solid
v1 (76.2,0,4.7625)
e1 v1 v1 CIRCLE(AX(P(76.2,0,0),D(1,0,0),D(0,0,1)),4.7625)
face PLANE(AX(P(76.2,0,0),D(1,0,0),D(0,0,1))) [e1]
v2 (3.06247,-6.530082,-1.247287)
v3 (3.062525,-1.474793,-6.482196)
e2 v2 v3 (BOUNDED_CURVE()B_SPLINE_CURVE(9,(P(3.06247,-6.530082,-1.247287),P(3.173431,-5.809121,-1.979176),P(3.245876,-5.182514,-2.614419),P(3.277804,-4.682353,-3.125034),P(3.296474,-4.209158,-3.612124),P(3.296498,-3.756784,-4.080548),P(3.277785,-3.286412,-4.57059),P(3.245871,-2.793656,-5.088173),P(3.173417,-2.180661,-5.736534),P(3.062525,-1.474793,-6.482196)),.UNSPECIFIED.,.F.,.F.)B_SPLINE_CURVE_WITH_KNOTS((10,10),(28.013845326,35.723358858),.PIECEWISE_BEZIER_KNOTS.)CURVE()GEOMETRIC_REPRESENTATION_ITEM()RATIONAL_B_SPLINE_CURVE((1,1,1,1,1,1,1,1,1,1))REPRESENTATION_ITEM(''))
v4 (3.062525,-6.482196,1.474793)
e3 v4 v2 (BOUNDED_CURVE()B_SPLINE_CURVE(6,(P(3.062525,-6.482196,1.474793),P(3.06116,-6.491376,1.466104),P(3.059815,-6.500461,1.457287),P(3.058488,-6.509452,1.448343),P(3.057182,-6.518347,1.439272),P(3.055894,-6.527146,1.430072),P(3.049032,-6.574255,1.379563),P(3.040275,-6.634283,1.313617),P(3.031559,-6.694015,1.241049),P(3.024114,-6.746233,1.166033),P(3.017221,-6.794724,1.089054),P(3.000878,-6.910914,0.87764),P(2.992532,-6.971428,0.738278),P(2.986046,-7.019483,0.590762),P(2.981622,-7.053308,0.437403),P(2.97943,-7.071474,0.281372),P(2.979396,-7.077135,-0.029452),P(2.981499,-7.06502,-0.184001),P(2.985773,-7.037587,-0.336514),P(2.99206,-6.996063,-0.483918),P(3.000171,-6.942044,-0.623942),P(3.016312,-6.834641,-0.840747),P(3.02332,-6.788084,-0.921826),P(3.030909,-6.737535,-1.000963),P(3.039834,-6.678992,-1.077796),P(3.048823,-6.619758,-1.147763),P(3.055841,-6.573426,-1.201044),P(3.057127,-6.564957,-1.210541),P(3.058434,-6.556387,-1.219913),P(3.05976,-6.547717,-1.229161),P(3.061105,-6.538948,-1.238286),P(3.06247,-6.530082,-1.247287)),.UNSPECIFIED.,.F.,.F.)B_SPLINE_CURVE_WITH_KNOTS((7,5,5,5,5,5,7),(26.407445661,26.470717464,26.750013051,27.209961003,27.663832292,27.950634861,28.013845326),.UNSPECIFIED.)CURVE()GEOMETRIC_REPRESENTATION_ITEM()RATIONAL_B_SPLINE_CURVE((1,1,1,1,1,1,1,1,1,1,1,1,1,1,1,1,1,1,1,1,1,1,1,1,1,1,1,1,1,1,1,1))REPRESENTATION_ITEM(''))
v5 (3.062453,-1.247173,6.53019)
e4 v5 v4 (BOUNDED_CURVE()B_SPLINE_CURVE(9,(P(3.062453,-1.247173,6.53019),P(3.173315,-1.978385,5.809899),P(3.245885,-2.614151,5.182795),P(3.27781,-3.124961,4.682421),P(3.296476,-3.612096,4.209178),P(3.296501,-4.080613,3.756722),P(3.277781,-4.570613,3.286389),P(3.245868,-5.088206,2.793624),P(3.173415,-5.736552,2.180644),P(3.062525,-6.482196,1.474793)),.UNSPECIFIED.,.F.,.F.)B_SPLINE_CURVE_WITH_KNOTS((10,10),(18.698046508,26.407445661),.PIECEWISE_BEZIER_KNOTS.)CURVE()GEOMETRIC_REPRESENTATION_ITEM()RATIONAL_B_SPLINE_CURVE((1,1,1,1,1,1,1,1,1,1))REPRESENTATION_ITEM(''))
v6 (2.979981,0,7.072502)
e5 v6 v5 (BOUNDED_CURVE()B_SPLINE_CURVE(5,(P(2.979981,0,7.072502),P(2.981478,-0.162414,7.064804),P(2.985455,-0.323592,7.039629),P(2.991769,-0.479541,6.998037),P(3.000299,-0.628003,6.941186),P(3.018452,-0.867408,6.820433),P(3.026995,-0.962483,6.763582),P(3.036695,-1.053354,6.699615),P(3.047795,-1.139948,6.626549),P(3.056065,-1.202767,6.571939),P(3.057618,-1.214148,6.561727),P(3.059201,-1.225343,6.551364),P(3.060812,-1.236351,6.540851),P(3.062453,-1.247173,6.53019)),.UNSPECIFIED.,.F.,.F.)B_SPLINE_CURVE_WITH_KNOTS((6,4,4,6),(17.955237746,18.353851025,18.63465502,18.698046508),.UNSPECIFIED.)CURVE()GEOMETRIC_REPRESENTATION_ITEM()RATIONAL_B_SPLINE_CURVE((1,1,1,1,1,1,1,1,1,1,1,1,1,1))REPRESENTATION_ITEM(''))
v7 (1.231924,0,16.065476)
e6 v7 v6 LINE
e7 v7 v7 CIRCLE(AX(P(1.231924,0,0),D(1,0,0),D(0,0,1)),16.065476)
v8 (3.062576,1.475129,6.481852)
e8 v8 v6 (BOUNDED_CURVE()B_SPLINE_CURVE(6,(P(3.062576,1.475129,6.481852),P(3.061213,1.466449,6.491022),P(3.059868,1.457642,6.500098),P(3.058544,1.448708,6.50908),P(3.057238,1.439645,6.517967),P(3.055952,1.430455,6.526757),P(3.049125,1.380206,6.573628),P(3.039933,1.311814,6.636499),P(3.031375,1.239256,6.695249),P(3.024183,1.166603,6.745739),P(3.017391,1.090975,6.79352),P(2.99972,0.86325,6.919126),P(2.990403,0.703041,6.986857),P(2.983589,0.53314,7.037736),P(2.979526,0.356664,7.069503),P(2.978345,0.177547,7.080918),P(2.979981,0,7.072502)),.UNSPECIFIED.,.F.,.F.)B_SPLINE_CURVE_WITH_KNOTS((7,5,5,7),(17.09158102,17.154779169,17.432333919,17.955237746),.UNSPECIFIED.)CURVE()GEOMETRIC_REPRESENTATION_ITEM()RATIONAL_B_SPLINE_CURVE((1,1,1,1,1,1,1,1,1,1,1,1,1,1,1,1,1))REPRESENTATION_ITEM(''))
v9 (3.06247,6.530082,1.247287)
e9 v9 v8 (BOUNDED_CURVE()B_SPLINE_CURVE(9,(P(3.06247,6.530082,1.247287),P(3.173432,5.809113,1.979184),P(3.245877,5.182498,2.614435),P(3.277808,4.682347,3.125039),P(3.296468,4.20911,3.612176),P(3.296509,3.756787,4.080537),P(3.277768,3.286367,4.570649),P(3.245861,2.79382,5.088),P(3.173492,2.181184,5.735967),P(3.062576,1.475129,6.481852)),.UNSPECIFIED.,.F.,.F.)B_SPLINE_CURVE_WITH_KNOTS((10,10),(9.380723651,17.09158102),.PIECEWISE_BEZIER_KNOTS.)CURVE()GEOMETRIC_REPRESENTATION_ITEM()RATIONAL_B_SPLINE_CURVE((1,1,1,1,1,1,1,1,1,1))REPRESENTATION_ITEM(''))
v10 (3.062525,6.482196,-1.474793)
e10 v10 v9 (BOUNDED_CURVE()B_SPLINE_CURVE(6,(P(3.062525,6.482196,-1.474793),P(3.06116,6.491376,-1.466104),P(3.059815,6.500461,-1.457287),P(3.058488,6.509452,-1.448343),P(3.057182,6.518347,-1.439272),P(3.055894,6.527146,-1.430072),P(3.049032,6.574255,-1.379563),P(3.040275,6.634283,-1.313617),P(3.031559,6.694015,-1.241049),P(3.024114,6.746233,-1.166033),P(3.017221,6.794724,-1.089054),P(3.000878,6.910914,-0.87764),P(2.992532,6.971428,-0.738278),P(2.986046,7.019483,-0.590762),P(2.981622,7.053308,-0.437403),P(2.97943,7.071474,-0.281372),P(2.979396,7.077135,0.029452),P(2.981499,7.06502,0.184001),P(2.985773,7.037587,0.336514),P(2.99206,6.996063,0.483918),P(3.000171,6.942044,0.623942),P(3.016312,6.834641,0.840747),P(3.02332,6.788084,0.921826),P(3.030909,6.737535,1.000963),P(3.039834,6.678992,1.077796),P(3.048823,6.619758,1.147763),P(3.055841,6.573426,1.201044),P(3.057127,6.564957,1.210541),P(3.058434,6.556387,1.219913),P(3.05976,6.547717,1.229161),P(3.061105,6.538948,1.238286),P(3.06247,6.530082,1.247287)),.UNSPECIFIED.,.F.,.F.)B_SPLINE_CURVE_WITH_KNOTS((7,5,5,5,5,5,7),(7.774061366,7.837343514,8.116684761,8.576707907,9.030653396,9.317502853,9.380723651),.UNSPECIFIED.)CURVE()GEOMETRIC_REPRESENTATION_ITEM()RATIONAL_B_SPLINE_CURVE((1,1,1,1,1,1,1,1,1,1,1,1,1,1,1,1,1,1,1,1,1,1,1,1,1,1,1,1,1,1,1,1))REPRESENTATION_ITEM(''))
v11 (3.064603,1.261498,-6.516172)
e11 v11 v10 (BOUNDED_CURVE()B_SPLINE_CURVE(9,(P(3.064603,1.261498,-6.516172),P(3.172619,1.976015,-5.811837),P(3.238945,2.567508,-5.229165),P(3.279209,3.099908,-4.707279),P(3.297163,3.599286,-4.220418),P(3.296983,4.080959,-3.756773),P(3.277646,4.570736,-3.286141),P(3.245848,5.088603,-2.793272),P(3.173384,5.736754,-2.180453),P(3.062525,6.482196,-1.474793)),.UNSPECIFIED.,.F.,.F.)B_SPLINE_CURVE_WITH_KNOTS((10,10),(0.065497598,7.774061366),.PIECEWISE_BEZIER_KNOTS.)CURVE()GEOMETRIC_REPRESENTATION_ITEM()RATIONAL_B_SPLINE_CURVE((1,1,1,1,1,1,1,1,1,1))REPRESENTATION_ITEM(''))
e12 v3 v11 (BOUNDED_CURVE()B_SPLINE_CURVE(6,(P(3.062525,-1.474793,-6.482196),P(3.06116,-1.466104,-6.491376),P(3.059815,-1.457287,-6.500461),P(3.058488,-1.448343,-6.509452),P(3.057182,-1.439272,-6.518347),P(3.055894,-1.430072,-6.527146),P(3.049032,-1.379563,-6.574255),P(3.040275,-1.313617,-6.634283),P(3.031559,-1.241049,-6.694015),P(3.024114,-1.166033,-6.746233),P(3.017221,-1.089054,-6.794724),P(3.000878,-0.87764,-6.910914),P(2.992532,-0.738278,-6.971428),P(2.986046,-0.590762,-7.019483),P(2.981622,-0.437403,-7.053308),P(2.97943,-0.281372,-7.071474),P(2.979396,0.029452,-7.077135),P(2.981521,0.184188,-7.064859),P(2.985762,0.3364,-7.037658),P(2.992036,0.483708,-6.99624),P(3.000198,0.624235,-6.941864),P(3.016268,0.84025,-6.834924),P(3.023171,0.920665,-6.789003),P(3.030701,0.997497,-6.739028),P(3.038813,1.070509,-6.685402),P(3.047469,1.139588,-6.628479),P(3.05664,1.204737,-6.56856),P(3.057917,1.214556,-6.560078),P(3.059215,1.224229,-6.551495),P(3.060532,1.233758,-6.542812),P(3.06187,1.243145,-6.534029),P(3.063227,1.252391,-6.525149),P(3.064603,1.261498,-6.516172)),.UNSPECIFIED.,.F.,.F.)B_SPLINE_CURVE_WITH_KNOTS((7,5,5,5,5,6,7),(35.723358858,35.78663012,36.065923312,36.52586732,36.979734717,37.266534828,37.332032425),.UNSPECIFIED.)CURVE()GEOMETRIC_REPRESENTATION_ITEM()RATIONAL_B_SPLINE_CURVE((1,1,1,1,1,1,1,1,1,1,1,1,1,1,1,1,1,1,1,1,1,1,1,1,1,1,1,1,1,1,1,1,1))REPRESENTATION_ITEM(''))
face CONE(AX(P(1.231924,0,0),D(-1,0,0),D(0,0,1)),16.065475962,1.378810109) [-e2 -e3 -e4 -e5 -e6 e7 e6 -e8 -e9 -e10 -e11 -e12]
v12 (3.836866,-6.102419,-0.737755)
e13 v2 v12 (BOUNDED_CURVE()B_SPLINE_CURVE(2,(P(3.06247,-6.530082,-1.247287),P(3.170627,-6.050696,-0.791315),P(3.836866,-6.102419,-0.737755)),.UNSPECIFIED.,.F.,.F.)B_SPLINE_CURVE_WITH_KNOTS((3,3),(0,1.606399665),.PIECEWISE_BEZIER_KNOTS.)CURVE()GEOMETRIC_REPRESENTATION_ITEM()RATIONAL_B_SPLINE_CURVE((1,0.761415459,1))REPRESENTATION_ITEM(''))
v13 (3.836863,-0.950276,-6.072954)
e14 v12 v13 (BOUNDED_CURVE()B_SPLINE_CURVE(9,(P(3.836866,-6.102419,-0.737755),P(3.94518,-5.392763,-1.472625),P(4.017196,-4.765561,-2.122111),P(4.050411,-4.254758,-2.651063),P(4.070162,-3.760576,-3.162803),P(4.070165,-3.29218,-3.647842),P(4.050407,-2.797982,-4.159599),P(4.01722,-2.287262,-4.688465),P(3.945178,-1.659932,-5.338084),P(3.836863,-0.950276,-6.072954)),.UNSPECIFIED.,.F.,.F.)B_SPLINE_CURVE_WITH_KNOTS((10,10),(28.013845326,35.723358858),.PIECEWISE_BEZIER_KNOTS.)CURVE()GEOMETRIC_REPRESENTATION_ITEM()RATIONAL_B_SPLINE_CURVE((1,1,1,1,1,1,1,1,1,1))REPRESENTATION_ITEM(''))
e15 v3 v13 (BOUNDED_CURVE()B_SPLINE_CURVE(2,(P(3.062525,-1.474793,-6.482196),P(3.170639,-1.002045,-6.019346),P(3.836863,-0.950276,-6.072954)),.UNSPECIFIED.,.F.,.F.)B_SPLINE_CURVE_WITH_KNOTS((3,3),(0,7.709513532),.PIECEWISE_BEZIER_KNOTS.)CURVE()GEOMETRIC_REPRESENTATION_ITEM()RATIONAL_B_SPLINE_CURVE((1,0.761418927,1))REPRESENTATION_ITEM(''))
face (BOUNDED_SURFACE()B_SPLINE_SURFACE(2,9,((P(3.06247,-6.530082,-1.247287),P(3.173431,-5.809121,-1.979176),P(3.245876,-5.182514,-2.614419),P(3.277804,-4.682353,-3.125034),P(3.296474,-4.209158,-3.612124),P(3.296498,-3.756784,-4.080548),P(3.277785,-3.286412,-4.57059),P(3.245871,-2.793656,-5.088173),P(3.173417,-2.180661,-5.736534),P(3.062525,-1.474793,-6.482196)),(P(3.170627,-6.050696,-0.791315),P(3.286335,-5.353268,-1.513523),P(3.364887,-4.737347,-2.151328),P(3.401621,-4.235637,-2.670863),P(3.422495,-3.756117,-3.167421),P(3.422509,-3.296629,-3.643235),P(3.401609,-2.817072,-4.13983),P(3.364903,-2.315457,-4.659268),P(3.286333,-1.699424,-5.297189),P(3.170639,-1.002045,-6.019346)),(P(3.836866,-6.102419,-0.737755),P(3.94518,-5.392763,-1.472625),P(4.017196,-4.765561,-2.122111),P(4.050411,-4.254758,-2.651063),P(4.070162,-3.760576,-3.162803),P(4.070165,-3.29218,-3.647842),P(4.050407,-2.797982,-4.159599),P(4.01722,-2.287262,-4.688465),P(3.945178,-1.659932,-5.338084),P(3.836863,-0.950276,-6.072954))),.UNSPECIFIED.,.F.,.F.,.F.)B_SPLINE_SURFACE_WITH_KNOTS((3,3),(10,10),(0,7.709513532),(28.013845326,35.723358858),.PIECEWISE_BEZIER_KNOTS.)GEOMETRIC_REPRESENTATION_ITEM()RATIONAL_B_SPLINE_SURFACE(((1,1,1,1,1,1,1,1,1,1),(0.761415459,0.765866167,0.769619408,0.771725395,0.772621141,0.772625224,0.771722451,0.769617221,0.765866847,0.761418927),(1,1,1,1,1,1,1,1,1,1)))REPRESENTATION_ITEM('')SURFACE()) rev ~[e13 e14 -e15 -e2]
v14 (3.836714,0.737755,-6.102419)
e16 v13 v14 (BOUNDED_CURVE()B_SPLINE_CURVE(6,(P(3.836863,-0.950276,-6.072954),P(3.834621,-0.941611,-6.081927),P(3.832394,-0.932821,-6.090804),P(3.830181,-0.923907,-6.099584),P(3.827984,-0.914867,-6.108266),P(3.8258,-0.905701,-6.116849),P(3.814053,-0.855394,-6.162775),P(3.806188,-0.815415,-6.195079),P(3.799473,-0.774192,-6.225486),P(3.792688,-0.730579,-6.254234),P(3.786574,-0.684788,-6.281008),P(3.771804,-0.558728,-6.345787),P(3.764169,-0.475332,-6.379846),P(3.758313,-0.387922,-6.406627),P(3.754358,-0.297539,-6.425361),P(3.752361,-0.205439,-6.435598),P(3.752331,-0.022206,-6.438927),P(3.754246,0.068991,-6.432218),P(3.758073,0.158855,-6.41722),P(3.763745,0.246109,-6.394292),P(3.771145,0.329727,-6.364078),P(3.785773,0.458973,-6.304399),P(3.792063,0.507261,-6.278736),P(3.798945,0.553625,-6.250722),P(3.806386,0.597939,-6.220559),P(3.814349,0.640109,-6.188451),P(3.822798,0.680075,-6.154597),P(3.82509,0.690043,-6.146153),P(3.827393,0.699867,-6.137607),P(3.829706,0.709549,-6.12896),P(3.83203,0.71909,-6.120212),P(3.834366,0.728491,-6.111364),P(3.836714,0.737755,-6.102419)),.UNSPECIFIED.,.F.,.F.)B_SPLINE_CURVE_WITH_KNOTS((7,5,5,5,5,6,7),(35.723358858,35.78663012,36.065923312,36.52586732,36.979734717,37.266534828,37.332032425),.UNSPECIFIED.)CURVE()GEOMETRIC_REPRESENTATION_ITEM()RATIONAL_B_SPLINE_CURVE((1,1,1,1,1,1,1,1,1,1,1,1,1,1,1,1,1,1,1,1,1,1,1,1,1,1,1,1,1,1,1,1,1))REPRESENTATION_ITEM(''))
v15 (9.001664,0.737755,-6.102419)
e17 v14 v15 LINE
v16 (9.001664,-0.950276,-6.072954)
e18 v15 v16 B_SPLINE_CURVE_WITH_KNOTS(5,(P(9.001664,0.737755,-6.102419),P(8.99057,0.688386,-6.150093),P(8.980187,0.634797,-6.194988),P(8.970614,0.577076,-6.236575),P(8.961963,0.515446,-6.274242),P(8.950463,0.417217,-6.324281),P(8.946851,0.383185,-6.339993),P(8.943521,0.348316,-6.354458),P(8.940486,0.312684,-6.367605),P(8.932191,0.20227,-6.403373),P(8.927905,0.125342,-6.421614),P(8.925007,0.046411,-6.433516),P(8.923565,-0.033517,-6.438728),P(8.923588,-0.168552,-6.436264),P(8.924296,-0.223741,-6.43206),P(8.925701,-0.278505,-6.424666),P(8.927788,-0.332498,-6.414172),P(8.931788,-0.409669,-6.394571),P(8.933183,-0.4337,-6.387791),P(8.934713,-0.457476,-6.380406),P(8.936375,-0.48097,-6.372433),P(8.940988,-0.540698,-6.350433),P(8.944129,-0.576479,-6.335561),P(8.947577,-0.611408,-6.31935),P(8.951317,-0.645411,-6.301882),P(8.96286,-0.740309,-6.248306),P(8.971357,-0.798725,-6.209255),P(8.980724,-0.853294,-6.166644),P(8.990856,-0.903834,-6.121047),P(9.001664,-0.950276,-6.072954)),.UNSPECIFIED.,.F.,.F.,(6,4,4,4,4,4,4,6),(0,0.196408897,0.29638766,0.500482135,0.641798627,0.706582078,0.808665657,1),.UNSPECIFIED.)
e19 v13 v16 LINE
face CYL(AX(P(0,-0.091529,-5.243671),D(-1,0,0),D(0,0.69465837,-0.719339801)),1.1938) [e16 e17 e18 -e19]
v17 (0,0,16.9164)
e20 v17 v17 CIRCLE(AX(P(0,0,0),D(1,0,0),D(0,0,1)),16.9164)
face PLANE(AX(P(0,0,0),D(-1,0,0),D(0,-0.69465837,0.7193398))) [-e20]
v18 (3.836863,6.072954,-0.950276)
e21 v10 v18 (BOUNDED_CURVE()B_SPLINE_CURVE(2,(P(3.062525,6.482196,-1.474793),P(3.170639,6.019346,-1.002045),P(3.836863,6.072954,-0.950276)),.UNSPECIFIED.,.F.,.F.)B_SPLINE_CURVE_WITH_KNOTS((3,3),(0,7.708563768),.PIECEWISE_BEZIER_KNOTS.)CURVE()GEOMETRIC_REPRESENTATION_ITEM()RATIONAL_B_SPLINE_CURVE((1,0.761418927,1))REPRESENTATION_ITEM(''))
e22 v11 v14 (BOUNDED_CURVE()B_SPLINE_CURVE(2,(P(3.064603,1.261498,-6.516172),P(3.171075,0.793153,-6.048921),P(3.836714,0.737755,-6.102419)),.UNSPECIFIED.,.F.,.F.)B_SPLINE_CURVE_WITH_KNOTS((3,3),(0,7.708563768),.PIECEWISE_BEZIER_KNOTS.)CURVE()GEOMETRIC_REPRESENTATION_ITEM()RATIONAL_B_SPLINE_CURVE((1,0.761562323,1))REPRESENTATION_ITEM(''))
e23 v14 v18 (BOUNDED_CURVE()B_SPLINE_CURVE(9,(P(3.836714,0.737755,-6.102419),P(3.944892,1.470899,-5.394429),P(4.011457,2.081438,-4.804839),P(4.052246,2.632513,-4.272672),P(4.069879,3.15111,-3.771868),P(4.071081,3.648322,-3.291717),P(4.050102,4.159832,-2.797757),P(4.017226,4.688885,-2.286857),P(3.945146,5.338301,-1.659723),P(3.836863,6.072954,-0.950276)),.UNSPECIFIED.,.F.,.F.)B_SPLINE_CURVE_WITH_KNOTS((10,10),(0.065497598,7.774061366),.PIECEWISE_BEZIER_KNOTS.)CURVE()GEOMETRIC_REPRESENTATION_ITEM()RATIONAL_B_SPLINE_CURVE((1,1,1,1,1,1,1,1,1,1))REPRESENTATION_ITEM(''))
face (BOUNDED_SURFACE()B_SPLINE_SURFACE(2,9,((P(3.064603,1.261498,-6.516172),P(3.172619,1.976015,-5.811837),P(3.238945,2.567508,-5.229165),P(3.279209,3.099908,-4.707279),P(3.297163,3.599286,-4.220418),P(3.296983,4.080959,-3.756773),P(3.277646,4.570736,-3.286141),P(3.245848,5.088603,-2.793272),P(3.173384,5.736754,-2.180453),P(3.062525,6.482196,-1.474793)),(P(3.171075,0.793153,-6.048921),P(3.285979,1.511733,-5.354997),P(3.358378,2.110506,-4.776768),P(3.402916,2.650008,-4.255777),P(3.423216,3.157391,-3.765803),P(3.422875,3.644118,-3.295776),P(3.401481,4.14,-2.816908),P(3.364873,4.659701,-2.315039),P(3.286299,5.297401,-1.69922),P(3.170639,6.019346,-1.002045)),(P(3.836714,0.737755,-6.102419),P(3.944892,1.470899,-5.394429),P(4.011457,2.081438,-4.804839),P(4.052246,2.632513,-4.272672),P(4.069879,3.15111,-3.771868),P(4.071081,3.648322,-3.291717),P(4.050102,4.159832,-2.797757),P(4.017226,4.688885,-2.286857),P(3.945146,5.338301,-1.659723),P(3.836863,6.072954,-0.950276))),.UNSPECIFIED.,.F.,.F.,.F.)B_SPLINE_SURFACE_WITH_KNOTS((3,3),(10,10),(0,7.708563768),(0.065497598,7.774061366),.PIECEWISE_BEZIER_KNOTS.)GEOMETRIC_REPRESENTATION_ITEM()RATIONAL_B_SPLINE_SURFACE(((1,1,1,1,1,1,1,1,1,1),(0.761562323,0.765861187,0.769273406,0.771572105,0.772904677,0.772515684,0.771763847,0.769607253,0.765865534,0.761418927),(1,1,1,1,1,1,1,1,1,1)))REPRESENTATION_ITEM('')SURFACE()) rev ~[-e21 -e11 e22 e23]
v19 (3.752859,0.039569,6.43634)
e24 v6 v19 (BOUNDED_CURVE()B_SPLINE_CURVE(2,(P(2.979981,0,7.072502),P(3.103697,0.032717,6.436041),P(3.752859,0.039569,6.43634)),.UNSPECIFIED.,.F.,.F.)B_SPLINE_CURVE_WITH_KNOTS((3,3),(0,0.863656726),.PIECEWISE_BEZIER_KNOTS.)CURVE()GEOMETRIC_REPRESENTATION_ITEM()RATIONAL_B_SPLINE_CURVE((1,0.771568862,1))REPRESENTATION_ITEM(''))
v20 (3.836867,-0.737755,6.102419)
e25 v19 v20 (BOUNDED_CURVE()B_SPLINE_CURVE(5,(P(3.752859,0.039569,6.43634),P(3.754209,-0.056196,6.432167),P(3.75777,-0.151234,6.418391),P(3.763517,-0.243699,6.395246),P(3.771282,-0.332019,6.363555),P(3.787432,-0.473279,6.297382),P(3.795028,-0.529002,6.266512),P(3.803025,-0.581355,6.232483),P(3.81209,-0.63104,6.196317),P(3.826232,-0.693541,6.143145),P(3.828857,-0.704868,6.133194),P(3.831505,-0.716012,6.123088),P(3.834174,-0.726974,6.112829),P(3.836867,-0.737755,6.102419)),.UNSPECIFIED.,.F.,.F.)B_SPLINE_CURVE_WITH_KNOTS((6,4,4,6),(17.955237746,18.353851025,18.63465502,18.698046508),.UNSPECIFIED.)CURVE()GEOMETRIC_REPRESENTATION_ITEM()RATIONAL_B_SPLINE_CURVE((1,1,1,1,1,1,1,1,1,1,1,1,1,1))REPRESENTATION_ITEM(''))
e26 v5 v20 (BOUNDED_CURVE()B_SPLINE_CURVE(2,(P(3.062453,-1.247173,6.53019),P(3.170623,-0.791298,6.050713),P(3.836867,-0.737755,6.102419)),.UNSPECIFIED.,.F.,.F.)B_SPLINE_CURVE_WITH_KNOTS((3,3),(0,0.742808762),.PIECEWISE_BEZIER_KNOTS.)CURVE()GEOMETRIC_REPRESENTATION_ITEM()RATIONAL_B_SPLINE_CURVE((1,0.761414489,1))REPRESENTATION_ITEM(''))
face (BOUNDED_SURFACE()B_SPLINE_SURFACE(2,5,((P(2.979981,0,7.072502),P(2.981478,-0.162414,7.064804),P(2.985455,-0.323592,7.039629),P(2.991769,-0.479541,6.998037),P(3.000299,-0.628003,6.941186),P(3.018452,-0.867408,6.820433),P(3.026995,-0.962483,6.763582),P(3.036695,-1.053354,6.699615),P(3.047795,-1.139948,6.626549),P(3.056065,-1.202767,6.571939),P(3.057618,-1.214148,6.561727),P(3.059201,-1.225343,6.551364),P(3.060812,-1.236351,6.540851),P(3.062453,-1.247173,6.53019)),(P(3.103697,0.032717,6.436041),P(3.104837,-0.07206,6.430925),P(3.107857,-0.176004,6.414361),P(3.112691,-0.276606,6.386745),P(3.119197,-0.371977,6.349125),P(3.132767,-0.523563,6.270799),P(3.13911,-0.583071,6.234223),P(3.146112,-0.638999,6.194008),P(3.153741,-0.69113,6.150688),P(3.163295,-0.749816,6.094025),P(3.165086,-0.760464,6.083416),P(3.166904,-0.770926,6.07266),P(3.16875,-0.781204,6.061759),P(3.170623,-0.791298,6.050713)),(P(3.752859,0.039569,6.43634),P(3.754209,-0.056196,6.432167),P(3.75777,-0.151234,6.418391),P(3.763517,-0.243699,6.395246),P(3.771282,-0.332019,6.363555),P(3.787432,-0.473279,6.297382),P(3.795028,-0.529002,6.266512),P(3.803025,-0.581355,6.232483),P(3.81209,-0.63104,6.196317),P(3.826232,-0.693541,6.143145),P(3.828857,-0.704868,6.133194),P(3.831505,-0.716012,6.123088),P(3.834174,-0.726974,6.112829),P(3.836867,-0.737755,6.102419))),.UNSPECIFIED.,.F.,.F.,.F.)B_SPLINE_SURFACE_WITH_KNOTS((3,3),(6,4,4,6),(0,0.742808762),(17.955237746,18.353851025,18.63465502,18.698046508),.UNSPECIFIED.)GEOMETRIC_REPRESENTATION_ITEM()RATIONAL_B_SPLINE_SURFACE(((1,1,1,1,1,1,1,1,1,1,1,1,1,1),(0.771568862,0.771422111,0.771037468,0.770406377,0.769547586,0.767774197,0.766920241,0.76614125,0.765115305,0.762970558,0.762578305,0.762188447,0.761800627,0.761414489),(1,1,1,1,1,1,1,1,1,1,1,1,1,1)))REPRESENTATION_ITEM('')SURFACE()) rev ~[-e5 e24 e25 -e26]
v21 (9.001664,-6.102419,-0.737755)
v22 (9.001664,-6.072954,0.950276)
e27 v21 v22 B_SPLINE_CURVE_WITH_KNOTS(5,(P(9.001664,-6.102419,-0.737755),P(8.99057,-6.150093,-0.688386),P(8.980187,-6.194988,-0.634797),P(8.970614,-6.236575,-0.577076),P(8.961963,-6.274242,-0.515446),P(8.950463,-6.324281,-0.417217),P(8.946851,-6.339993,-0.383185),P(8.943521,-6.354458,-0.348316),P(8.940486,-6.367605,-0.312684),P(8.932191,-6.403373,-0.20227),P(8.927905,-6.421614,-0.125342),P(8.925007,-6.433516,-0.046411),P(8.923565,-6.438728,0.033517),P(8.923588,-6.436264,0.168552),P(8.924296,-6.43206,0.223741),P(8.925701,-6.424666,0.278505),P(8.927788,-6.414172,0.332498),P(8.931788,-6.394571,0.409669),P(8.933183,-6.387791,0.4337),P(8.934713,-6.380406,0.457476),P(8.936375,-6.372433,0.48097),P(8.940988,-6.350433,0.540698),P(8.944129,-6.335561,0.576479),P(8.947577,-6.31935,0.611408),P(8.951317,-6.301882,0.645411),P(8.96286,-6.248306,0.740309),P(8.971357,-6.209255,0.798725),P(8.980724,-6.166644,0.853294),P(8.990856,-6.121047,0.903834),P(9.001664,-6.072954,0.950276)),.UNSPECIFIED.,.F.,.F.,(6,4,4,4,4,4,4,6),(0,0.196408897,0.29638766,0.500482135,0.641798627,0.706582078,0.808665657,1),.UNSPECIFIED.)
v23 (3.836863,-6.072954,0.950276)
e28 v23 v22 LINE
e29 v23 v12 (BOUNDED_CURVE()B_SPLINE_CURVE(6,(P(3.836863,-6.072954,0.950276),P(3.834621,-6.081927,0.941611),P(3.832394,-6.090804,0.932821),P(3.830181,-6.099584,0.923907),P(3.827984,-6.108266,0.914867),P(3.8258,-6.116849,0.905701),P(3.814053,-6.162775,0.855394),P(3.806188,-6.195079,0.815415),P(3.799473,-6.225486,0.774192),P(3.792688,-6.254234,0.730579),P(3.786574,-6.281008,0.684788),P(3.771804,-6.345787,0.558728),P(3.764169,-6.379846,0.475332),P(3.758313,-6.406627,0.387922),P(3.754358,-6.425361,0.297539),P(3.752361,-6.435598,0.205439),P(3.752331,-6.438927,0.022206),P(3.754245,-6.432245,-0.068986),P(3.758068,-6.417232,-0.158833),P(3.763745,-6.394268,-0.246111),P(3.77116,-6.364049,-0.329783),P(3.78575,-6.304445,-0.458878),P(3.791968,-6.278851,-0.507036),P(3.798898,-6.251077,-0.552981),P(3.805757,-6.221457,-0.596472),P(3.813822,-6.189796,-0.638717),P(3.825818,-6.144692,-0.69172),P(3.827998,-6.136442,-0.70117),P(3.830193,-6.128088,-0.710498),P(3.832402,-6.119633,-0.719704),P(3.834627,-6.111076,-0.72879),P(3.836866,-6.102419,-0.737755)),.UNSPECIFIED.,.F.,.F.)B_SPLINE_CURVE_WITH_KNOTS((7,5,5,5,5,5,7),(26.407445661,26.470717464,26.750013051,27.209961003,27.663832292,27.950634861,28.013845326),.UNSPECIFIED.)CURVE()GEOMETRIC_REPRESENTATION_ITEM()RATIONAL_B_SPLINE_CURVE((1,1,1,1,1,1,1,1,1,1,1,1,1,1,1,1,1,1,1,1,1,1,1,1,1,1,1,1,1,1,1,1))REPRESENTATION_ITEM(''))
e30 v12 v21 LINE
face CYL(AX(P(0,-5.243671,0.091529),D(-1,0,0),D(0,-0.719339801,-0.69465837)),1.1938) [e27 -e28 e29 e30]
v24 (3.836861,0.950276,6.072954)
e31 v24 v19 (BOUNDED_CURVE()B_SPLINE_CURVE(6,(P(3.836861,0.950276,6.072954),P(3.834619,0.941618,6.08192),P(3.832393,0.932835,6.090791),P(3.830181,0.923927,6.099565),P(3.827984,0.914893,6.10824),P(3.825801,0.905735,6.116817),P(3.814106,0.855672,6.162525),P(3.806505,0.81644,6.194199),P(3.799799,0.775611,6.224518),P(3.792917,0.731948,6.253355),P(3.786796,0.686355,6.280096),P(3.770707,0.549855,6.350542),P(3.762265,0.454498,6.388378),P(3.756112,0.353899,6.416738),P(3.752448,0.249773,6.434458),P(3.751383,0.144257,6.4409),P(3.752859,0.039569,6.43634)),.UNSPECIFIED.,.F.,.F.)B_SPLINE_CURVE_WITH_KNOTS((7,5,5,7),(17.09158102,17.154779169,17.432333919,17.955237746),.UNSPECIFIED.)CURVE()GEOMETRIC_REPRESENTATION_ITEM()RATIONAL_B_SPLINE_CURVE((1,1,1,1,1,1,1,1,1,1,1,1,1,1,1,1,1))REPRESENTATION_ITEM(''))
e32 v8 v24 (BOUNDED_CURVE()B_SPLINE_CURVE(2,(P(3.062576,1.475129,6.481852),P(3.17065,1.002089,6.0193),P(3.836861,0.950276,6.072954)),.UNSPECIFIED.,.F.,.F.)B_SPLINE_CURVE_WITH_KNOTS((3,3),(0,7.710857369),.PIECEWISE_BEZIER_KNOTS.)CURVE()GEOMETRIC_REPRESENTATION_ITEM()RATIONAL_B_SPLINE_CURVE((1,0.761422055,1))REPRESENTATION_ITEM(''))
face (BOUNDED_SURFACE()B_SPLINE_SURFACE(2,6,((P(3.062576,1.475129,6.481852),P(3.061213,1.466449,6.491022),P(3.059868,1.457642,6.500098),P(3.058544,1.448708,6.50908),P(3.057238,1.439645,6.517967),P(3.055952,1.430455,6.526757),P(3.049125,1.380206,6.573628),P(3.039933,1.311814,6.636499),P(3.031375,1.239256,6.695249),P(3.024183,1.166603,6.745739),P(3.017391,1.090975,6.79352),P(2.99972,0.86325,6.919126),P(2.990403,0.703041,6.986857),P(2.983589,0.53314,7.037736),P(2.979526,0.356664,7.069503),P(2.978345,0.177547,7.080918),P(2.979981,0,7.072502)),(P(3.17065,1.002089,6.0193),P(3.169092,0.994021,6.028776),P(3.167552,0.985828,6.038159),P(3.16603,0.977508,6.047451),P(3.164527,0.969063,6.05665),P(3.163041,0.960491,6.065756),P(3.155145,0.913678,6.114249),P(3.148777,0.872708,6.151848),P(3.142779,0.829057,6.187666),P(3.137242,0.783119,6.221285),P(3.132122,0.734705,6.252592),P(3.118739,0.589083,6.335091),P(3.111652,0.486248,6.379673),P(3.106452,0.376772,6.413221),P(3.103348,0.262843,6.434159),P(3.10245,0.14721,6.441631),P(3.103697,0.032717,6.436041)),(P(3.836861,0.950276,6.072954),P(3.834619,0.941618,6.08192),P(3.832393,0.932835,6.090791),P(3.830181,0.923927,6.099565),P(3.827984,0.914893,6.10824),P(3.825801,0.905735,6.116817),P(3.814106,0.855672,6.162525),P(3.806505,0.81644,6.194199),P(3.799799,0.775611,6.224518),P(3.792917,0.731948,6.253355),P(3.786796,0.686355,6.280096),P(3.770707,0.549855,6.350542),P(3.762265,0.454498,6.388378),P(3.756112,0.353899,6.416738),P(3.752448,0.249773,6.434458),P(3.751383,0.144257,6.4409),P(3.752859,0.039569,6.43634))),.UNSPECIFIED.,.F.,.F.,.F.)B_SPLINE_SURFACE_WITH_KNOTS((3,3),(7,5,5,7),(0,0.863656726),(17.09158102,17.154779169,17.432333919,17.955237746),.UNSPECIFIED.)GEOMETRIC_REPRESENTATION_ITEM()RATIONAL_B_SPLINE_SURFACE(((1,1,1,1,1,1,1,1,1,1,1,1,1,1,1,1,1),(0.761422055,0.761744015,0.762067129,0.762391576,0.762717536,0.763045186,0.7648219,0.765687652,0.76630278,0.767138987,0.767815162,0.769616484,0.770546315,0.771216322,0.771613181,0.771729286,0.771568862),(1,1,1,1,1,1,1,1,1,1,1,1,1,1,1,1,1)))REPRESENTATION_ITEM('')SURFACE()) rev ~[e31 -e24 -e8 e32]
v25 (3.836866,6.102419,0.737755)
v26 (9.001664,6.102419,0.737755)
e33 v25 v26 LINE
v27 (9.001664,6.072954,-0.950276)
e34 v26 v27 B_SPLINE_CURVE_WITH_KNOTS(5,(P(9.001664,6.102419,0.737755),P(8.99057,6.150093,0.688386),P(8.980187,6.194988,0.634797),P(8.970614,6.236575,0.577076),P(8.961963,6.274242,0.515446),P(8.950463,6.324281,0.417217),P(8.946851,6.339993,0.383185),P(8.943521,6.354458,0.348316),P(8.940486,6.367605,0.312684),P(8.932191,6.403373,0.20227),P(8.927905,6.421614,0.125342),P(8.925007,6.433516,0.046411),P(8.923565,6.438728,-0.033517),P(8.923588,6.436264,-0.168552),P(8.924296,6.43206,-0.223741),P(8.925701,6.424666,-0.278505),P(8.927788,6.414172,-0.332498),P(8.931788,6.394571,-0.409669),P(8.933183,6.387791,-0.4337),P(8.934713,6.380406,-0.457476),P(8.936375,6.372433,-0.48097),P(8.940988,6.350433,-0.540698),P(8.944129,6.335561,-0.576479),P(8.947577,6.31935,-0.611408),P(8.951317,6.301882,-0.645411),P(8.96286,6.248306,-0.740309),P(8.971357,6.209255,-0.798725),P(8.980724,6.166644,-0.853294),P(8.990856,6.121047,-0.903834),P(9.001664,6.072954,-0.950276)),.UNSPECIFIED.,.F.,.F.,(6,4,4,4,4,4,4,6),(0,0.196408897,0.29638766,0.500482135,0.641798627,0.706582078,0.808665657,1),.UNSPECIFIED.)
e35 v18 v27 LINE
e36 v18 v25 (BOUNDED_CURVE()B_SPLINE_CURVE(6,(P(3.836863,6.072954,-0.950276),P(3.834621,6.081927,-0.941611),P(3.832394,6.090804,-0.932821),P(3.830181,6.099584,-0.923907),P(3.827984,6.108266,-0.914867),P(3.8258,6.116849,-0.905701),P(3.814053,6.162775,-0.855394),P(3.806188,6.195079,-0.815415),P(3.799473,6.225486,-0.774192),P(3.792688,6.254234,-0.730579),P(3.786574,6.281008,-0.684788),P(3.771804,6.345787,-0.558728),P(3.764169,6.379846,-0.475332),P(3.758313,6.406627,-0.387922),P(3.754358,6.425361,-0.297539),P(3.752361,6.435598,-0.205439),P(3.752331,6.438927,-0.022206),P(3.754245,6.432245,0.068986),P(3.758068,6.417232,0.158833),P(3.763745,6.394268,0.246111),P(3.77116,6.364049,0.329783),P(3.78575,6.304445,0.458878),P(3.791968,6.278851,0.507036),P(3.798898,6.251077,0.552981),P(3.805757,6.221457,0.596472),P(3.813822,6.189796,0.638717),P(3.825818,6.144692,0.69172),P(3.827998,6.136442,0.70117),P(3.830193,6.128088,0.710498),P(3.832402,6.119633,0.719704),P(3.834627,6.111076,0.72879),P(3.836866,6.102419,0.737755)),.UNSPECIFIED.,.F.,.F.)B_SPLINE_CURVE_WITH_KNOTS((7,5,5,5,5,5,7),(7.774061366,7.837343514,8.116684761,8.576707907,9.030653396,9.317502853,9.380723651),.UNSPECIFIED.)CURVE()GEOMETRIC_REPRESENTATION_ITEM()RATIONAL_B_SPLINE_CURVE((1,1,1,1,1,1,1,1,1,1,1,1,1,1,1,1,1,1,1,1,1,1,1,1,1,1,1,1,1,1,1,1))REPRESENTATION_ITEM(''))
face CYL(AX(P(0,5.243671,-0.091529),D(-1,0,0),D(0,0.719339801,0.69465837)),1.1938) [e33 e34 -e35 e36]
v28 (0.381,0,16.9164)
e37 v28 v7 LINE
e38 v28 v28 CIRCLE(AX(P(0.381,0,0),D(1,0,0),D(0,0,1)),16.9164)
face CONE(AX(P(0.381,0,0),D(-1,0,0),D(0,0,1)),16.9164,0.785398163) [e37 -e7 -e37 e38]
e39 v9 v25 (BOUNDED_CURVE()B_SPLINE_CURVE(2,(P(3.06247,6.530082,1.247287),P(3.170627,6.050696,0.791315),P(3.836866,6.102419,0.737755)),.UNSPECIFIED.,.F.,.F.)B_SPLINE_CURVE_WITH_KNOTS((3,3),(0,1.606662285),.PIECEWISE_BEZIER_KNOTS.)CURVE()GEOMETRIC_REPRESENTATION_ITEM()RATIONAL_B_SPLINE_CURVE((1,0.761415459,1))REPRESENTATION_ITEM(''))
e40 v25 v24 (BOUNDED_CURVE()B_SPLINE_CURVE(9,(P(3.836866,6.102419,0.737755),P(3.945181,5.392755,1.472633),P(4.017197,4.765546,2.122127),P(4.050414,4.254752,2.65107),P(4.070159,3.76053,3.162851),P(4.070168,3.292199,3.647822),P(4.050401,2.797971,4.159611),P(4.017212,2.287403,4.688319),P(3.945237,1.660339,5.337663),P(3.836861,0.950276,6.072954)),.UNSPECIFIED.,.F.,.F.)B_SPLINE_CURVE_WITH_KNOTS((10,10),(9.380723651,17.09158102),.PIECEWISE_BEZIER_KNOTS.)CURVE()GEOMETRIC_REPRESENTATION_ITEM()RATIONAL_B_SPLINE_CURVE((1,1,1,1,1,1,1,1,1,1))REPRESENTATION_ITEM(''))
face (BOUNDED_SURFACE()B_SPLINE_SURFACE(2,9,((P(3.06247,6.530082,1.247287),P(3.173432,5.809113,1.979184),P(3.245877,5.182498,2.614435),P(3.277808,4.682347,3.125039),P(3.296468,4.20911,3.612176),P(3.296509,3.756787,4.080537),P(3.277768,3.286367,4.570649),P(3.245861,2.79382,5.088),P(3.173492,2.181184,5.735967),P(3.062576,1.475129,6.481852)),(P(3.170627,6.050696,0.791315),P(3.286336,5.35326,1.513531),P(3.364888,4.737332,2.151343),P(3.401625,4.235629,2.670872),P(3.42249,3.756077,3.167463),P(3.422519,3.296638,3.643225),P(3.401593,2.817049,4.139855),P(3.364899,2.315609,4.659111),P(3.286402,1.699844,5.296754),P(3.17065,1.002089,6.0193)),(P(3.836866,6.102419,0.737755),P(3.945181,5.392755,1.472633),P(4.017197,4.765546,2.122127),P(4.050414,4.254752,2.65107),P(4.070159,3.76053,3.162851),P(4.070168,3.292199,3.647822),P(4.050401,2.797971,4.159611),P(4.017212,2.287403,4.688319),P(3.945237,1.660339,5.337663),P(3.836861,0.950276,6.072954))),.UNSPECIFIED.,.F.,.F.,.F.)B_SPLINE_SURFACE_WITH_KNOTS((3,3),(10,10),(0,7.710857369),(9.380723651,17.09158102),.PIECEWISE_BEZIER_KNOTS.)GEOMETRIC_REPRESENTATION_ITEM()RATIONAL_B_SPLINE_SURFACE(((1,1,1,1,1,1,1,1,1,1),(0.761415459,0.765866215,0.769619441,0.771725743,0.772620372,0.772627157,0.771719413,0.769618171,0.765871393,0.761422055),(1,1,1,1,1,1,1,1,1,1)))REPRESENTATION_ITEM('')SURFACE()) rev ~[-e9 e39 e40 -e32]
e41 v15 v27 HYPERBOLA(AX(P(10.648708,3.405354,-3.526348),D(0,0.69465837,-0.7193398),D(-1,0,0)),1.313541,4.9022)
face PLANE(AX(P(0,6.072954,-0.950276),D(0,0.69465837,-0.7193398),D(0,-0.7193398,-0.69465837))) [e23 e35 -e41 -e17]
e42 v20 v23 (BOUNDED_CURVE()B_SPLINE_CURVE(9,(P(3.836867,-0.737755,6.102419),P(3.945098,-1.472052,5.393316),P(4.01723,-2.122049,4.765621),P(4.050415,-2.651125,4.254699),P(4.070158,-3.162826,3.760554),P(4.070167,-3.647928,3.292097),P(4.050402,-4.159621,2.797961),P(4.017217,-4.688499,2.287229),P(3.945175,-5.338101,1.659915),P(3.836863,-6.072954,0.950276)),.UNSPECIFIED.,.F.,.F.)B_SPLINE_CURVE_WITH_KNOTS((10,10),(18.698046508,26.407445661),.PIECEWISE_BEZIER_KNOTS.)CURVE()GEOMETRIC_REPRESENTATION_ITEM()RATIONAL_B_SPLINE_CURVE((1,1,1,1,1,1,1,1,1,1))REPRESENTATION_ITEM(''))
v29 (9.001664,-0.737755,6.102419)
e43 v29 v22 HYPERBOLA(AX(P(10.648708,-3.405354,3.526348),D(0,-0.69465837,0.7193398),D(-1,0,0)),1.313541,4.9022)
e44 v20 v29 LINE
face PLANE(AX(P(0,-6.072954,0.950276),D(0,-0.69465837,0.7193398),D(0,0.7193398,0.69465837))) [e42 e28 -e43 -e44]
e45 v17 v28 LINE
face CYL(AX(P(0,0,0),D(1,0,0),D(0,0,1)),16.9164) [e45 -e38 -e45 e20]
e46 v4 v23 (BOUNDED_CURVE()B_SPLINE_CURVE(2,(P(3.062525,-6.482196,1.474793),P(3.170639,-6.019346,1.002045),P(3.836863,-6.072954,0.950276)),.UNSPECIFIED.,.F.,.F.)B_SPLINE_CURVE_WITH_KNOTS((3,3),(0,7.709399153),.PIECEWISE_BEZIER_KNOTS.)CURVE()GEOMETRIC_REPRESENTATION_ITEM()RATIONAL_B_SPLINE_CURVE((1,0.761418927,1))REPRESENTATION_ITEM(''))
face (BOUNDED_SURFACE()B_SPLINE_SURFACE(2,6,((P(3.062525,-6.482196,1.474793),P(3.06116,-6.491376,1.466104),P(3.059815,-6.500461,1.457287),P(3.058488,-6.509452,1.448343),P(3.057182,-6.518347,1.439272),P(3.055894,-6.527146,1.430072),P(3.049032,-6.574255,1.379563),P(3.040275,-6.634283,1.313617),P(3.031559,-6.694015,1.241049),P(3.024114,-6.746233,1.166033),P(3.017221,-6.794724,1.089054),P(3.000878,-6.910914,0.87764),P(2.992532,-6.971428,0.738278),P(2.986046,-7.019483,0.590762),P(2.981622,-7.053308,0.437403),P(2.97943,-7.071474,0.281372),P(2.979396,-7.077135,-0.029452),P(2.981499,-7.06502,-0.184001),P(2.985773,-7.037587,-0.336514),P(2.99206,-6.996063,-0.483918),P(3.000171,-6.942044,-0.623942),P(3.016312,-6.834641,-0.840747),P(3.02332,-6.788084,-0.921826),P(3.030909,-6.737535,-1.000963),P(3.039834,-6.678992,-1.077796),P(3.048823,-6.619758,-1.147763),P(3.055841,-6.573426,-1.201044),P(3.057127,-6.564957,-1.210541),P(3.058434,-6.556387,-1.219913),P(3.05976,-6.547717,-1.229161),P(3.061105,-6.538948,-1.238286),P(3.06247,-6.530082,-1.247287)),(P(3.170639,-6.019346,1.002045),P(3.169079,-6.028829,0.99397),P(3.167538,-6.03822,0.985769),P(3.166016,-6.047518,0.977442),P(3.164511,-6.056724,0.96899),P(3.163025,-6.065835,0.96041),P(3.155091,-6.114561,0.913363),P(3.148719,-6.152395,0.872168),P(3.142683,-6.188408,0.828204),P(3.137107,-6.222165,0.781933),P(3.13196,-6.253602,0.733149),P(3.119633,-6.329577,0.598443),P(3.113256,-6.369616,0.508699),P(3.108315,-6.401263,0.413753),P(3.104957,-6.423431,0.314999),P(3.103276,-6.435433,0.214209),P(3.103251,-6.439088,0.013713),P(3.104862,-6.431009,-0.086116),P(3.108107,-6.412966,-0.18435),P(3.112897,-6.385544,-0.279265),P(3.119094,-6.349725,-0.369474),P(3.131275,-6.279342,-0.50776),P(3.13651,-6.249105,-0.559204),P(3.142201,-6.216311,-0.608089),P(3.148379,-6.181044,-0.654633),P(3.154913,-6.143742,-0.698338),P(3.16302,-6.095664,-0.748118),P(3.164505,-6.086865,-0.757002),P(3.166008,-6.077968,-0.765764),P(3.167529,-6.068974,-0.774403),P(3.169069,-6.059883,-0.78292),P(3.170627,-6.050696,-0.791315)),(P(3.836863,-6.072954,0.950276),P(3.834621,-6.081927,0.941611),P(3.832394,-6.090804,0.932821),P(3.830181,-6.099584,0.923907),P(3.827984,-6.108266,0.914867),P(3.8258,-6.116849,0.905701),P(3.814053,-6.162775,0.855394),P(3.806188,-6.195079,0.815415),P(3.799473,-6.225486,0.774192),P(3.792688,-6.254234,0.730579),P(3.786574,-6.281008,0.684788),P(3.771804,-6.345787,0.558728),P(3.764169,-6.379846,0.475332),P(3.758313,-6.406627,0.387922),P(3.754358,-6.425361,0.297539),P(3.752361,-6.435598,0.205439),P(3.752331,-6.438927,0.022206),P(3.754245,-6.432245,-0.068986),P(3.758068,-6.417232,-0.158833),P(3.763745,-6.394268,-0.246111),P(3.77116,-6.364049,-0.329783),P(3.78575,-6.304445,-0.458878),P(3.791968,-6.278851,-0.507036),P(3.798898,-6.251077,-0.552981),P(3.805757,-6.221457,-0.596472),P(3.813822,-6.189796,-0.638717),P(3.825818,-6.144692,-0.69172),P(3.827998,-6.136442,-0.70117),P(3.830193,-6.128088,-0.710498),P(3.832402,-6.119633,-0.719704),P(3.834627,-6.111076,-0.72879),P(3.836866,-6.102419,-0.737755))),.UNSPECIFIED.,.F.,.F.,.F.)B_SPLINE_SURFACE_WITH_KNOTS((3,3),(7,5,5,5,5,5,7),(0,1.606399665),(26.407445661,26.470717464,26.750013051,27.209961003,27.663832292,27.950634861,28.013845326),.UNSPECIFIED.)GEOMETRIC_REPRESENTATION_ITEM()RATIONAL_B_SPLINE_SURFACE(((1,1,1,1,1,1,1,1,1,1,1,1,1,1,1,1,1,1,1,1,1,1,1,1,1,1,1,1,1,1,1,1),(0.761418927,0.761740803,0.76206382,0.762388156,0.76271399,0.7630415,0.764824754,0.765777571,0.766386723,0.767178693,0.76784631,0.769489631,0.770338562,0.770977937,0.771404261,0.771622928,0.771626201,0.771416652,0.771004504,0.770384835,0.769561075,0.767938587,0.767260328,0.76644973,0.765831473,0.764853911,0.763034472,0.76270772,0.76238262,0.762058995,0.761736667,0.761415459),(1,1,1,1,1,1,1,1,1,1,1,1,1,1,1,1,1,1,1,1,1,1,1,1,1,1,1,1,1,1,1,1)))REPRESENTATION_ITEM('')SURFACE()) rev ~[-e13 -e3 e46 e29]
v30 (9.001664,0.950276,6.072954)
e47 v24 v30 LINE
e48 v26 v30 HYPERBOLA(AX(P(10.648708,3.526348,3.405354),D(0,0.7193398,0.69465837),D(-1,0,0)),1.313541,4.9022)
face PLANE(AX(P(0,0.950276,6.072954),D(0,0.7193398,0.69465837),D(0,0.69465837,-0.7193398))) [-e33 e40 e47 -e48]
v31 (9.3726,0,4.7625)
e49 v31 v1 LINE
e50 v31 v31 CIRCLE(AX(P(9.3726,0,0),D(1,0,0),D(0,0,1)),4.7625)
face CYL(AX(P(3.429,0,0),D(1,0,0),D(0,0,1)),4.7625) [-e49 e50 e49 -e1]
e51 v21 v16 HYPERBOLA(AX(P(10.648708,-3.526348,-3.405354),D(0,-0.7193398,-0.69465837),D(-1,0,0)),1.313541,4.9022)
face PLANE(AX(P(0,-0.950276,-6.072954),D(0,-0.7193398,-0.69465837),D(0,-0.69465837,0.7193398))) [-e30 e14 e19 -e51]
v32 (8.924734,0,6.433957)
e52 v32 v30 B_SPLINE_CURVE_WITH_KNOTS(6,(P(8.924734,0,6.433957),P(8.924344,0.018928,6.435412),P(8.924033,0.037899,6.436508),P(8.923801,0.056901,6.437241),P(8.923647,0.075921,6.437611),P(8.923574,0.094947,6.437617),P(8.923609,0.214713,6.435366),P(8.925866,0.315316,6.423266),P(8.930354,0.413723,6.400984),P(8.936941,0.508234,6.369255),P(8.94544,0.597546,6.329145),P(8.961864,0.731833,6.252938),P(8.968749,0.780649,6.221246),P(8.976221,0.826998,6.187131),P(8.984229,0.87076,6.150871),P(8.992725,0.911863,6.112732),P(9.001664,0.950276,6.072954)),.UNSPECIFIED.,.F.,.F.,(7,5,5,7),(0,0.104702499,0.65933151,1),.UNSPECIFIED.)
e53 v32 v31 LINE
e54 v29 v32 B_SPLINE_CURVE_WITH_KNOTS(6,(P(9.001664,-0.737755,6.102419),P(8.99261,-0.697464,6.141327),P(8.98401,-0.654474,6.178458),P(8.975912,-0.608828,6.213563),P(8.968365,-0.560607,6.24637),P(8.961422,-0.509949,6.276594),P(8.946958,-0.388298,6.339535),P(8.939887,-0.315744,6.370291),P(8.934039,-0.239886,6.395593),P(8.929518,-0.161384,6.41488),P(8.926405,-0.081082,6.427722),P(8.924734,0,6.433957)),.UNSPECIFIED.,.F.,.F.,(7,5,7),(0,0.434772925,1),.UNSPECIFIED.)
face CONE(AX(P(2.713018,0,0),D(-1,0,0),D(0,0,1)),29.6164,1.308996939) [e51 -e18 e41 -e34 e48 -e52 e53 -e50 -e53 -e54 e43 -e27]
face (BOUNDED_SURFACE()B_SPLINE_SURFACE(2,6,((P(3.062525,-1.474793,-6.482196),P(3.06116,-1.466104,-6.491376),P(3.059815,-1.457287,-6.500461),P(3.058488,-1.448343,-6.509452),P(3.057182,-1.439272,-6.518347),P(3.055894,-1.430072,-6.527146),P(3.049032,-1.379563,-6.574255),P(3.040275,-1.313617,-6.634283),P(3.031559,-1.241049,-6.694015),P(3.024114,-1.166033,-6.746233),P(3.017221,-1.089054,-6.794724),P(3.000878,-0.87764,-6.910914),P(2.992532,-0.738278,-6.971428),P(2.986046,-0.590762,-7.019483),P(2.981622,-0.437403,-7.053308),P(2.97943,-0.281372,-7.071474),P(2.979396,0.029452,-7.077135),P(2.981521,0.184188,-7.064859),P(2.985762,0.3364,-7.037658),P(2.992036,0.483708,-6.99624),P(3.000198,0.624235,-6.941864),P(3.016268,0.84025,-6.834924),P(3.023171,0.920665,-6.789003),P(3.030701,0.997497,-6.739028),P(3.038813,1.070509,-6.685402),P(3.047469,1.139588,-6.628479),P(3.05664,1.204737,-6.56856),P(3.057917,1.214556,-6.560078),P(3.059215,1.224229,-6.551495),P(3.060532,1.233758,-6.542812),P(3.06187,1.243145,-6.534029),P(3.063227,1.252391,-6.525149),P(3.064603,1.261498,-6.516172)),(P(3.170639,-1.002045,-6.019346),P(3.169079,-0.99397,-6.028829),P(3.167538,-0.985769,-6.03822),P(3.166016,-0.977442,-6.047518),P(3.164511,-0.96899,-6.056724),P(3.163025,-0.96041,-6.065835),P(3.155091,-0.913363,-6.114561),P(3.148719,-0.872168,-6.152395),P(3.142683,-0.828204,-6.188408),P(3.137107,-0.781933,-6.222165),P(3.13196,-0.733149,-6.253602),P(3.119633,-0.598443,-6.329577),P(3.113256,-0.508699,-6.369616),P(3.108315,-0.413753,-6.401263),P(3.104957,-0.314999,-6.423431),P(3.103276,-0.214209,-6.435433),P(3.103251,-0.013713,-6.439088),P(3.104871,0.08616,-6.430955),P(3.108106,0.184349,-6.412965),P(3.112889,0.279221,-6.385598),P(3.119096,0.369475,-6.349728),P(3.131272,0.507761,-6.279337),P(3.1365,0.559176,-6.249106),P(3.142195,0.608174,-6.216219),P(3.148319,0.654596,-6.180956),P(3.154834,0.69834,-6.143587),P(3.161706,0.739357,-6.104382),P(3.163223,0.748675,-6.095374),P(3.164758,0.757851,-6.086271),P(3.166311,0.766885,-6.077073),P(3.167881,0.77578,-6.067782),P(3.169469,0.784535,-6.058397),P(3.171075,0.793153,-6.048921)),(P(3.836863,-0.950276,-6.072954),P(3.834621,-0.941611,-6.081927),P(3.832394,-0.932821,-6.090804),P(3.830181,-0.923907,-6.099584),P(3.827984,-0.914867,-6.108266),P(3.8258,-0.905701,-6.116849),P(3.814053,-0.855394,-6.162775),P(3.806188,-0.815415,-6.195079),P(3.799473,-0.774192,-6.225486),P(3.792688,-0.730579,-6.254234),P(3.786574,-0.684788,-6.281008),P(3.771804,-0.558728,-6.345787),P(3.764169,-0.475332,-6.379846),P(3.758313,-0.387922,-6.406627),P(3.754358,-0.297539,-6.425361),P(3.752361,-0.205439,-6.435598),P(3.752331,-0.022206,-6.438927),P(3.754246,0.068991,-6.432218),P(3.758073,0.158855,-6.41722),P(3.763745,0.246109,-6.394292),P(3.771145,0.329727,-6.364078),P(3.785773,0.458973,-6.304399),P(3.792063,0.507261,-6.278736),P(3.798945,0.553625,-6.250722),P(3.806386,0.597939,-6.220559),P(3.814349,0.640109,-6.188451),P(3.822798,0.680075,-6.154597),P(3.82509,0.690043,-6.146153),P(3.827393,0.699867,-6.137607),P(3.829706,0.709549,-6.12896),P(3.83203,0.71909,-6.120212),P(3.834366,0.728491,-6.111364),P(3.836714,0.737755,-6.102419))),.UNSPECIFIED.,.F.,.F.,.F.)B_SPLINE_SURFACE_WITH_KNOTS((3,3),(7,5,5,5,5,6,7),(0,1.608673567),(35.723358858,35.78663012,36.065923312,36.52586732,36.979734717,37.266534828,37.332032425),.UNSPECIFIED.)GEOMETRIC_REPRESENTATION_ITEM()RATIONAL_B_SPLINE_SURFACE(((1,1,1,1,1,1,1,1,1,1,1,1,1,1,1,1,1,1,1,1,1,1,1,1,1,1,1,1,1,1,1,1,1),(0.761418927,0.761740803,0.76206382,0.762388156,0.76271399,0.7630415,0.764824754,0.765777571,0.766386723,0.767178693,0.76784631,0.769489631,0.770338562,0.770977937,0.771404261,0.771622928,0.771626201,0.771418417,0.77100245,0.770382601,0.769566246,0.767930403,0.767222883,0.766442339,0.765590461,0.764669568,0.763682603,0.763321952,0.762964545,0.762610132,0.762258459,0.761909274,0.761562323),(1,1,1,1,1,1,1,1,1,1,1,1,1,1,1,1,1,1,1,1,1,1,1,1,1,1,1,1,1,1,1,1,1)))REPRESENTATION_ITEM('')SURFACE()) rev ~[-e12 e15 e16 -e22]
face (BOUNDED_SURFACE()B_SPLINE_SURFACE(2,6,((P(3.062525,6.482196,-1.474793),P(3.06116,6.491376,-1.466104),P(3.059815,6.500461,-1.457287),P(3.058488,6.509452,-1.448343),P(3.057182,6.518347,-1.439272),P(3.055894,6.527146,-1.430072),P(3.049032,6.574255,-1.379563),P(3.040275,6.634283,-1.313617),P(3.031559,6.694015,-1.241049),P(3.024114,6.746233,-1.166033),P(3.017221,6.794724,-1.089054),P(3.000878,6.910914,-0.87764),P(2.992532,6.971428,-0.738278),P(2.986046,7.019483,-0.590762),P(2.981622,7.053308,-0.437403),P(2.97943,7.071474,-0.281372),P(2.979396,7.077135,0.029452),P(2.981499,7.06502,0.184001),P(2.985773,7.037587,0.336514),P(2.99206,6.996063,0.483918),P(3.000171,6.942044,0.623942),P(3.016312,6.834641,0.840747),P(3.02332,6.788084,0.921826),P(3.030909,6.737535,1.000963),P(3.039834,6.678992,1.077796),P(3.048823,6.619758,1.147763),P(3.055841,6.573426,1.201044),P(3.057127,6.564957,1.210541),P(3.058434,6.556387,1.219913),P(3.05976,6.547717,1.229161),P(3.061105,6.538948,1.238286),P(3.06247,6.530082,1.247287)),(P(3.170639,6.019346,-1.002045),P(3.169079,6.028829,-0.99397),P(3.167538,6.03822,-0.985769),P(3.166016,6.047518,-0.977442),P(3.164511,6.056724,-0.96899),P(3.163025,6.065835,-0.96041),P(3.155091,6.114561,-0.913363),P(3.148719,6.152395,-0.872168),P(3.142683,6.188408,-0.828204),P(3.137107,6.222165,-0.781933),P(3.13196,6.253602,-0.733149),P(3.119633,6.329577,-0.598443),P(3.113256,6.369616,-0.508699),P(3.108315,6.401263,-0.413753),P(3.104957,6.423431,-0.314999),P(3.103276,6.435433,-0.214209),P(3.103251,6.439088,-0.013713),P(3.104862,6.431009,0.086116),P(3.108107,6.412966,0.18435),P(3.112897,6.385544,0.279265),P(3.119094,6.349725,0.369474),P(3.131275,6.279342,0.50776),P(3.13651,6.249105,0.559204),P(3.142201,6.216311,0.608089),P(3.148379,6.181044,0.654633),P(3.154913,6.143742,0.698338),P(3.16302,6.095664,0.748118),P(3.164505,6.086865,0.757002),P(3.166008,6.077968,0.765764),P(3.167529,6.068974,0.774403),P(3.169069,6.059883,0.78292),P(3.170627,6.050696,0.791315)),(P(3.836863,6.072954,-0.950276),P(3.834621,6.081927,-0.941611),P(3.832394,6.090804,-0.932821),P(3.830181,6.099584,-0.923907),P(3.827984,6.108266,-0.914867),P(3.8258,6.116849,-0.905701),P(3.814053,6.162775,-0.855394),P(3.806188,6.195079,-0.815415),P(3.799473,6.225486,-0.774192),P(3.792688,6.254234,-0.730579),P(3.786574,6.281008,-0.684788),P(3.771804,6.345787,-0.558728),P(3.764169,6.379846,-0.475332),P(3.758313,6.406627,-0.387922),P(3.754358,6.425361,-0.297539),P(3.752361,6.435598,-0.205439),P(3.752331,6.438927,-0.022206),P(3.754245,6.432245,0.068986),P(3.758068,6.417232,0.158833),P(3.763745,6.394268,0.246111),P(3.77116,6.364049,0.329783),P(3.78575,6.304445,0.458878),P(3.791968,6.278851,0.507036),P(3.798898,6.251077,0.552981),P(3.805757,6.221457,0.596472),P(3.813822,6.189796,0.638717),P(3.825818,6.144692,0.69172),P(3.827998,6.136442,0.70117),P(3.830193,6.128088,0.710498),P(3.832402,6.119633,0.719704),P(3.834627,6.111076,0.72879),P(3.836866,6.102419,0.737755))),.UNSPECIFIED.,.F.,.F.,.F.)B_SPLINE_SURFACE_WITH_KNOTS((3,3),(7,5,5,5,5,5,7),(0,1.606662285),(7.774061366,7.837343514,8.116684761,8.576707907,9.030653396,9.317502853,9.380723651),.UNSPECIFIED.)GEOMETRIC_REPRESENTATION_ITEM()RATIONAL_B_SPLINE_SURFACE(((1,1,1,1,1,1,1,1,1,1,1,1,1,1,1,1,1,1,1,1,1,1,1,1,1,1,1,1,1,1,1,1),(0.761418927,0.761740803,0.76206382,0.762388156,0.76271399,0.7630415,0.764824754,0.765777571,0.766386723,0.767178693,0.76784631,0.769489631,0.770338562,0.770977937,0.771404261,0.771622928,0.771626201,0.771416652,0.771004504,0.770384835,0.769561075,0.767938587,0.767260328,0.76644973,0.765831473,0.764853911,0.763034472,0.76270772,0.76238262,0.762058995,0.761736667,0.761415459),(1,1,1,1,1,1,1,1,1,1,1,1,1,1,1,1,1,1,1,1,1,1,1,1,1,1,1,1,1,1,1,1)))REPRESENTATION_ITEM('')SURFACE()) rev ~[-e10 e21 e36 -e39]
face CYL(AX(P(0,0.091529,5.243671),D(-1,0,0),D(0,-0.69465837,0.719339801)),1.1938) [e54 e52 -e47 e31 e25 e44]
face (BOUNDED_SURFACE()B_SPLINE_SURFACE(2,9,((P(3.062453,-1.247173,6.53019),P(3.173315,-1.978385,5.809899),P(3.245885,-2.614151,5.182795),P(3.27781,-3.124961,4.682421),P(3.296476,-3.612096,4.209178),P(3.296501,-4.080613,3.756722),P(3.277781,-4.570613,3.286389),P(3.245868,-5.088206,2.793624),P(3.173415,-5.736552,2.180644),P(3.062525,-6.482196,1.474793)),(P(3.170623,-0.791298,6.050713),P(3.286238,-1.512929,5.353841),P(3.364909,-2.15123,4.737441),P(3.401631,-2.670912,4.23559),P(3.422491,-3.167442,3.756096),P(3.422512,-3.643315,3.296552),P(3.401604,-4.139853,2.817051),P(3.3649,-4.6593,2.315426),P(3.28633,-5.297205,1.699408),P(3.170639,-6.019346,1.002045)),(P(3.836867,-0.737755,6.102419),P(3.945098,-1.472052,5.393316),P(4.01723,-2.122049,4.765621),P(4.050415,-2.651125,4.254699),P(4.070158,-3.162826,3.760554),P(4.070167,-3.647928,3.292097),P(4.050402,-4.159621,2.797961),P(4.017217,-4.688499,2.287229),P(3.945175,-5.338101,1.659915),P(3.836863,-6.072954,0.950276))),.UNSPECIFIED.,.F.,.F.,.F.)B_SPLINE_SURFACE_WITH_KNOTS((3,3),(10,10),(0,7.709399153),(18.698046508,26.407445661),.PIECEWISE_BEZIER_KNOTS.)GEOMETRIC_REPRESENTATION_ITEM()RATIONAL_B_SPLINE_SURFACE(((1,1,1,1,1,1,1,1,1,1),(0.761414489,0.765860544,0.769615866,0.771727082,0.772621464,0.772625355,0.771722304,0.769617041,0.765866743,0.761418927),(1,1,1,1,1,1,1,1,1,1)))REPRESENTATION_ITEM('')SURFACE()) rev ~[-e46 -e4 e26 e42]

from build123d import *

# Parameters (mm, degrees)
NECK_DEPTH   = 9.3726
HEADFILLET_R = 0.7874


with BuildPart() as part:
    # BodySke → BaseBody (revolve)
    with BuildSketch(Plane.XY, mode=Mode.PRIVATE) as basebody_sk:
        Polygon((0, 0), (0, 16.9164), (0.381, 16.9164), (1.231924038, 16.065475962), (3.429, 4.7625), (76.2, 4.7625), (76.2, 0), align=None)
    revolve(basebody_sk.sketch.rotate(Axis((-6.35, 0, 0), (1, 0, 0)), 90), axis=Axis((-6.35, 0, 0), (1, 0, 0)))

    # Sketch2 → Neck (add)
    with BuildSketch(Plane(origin=(0, 0, 0), x_dir=(0, 0.6946583704589985, -0.7193398003386501), z_dir=(1, 0, 0))):
        with BuildLine():
            Line((3.7084, -4.9022), (-3.7084, -4.9022))
            ThreePointArc((-3.7084, -4.9022), (-4.552544075, -4.552544075), (-4.9022, -3.7084))
            Line((-4.9022, -3.7084), (-4.9022, 3.7084))
            ThreePointArc((-4.9022, 3.7084), (-4.552544075, 4.552544075), (-3.7084, 4.9022))
            Line((-3.7084, 4.9022), (3.7084, 4.9022))
            ThreePointArc((3.7084, 4.9022), (4.552544075, 4.552544075), (4.9022, 3.7084))
            Line((4.9022, 3.7084), (4.9022, -3.7084))
            ThreePointArc((4.9022, -3.7084), (4.552544075, -4.552544075), (3.7084, -4.9022))
        make_face()
    extrude(amount=NECK_DEPTH)

    # Sketch3 → NeckChamfer (revolve, cut)
    with BuildSketch(Plane.XY, mode=Mode.PRIVATE) as neckchamfer_sk:
        Polygon((2.713017566, 29.6164), (9.3726, 4.7625), (9.6266, 4.7625), (9.6266, 29.6164), align=None)
    revolve(neckchamfer_sk.sketch.rotate(Axis((0, 0, 0), (1, 0, 0)), 90), axis=Axis((0, 0, 0), (1, 0, 0)), mode=Mode.SUBTRACT)

    # HeadFillet
    headfillet_edges = [part.edges().sort_by_distance(p)[0] for p in [
        (3.401845071, 3.405354264, -3.526347569),
        (3.103263392, -0.112363299, -6.437288995),
        (3.401845071, -3.526347569, -3.405354264),
        (3.103263392, -6.437288995, 0.112363299),
        (3.401845071, -3.405354264, 3.526347569),
        (3.121431163, -0.398458833, 6.332280366),
        (3.401845071, 3.526347569, 3.405354264),
        (3.103263392, 6.437288995, -0.112363299),
    ]]
    fillet(headfillet_edges, radius=HEADFILLET_R)


solid = part.part
